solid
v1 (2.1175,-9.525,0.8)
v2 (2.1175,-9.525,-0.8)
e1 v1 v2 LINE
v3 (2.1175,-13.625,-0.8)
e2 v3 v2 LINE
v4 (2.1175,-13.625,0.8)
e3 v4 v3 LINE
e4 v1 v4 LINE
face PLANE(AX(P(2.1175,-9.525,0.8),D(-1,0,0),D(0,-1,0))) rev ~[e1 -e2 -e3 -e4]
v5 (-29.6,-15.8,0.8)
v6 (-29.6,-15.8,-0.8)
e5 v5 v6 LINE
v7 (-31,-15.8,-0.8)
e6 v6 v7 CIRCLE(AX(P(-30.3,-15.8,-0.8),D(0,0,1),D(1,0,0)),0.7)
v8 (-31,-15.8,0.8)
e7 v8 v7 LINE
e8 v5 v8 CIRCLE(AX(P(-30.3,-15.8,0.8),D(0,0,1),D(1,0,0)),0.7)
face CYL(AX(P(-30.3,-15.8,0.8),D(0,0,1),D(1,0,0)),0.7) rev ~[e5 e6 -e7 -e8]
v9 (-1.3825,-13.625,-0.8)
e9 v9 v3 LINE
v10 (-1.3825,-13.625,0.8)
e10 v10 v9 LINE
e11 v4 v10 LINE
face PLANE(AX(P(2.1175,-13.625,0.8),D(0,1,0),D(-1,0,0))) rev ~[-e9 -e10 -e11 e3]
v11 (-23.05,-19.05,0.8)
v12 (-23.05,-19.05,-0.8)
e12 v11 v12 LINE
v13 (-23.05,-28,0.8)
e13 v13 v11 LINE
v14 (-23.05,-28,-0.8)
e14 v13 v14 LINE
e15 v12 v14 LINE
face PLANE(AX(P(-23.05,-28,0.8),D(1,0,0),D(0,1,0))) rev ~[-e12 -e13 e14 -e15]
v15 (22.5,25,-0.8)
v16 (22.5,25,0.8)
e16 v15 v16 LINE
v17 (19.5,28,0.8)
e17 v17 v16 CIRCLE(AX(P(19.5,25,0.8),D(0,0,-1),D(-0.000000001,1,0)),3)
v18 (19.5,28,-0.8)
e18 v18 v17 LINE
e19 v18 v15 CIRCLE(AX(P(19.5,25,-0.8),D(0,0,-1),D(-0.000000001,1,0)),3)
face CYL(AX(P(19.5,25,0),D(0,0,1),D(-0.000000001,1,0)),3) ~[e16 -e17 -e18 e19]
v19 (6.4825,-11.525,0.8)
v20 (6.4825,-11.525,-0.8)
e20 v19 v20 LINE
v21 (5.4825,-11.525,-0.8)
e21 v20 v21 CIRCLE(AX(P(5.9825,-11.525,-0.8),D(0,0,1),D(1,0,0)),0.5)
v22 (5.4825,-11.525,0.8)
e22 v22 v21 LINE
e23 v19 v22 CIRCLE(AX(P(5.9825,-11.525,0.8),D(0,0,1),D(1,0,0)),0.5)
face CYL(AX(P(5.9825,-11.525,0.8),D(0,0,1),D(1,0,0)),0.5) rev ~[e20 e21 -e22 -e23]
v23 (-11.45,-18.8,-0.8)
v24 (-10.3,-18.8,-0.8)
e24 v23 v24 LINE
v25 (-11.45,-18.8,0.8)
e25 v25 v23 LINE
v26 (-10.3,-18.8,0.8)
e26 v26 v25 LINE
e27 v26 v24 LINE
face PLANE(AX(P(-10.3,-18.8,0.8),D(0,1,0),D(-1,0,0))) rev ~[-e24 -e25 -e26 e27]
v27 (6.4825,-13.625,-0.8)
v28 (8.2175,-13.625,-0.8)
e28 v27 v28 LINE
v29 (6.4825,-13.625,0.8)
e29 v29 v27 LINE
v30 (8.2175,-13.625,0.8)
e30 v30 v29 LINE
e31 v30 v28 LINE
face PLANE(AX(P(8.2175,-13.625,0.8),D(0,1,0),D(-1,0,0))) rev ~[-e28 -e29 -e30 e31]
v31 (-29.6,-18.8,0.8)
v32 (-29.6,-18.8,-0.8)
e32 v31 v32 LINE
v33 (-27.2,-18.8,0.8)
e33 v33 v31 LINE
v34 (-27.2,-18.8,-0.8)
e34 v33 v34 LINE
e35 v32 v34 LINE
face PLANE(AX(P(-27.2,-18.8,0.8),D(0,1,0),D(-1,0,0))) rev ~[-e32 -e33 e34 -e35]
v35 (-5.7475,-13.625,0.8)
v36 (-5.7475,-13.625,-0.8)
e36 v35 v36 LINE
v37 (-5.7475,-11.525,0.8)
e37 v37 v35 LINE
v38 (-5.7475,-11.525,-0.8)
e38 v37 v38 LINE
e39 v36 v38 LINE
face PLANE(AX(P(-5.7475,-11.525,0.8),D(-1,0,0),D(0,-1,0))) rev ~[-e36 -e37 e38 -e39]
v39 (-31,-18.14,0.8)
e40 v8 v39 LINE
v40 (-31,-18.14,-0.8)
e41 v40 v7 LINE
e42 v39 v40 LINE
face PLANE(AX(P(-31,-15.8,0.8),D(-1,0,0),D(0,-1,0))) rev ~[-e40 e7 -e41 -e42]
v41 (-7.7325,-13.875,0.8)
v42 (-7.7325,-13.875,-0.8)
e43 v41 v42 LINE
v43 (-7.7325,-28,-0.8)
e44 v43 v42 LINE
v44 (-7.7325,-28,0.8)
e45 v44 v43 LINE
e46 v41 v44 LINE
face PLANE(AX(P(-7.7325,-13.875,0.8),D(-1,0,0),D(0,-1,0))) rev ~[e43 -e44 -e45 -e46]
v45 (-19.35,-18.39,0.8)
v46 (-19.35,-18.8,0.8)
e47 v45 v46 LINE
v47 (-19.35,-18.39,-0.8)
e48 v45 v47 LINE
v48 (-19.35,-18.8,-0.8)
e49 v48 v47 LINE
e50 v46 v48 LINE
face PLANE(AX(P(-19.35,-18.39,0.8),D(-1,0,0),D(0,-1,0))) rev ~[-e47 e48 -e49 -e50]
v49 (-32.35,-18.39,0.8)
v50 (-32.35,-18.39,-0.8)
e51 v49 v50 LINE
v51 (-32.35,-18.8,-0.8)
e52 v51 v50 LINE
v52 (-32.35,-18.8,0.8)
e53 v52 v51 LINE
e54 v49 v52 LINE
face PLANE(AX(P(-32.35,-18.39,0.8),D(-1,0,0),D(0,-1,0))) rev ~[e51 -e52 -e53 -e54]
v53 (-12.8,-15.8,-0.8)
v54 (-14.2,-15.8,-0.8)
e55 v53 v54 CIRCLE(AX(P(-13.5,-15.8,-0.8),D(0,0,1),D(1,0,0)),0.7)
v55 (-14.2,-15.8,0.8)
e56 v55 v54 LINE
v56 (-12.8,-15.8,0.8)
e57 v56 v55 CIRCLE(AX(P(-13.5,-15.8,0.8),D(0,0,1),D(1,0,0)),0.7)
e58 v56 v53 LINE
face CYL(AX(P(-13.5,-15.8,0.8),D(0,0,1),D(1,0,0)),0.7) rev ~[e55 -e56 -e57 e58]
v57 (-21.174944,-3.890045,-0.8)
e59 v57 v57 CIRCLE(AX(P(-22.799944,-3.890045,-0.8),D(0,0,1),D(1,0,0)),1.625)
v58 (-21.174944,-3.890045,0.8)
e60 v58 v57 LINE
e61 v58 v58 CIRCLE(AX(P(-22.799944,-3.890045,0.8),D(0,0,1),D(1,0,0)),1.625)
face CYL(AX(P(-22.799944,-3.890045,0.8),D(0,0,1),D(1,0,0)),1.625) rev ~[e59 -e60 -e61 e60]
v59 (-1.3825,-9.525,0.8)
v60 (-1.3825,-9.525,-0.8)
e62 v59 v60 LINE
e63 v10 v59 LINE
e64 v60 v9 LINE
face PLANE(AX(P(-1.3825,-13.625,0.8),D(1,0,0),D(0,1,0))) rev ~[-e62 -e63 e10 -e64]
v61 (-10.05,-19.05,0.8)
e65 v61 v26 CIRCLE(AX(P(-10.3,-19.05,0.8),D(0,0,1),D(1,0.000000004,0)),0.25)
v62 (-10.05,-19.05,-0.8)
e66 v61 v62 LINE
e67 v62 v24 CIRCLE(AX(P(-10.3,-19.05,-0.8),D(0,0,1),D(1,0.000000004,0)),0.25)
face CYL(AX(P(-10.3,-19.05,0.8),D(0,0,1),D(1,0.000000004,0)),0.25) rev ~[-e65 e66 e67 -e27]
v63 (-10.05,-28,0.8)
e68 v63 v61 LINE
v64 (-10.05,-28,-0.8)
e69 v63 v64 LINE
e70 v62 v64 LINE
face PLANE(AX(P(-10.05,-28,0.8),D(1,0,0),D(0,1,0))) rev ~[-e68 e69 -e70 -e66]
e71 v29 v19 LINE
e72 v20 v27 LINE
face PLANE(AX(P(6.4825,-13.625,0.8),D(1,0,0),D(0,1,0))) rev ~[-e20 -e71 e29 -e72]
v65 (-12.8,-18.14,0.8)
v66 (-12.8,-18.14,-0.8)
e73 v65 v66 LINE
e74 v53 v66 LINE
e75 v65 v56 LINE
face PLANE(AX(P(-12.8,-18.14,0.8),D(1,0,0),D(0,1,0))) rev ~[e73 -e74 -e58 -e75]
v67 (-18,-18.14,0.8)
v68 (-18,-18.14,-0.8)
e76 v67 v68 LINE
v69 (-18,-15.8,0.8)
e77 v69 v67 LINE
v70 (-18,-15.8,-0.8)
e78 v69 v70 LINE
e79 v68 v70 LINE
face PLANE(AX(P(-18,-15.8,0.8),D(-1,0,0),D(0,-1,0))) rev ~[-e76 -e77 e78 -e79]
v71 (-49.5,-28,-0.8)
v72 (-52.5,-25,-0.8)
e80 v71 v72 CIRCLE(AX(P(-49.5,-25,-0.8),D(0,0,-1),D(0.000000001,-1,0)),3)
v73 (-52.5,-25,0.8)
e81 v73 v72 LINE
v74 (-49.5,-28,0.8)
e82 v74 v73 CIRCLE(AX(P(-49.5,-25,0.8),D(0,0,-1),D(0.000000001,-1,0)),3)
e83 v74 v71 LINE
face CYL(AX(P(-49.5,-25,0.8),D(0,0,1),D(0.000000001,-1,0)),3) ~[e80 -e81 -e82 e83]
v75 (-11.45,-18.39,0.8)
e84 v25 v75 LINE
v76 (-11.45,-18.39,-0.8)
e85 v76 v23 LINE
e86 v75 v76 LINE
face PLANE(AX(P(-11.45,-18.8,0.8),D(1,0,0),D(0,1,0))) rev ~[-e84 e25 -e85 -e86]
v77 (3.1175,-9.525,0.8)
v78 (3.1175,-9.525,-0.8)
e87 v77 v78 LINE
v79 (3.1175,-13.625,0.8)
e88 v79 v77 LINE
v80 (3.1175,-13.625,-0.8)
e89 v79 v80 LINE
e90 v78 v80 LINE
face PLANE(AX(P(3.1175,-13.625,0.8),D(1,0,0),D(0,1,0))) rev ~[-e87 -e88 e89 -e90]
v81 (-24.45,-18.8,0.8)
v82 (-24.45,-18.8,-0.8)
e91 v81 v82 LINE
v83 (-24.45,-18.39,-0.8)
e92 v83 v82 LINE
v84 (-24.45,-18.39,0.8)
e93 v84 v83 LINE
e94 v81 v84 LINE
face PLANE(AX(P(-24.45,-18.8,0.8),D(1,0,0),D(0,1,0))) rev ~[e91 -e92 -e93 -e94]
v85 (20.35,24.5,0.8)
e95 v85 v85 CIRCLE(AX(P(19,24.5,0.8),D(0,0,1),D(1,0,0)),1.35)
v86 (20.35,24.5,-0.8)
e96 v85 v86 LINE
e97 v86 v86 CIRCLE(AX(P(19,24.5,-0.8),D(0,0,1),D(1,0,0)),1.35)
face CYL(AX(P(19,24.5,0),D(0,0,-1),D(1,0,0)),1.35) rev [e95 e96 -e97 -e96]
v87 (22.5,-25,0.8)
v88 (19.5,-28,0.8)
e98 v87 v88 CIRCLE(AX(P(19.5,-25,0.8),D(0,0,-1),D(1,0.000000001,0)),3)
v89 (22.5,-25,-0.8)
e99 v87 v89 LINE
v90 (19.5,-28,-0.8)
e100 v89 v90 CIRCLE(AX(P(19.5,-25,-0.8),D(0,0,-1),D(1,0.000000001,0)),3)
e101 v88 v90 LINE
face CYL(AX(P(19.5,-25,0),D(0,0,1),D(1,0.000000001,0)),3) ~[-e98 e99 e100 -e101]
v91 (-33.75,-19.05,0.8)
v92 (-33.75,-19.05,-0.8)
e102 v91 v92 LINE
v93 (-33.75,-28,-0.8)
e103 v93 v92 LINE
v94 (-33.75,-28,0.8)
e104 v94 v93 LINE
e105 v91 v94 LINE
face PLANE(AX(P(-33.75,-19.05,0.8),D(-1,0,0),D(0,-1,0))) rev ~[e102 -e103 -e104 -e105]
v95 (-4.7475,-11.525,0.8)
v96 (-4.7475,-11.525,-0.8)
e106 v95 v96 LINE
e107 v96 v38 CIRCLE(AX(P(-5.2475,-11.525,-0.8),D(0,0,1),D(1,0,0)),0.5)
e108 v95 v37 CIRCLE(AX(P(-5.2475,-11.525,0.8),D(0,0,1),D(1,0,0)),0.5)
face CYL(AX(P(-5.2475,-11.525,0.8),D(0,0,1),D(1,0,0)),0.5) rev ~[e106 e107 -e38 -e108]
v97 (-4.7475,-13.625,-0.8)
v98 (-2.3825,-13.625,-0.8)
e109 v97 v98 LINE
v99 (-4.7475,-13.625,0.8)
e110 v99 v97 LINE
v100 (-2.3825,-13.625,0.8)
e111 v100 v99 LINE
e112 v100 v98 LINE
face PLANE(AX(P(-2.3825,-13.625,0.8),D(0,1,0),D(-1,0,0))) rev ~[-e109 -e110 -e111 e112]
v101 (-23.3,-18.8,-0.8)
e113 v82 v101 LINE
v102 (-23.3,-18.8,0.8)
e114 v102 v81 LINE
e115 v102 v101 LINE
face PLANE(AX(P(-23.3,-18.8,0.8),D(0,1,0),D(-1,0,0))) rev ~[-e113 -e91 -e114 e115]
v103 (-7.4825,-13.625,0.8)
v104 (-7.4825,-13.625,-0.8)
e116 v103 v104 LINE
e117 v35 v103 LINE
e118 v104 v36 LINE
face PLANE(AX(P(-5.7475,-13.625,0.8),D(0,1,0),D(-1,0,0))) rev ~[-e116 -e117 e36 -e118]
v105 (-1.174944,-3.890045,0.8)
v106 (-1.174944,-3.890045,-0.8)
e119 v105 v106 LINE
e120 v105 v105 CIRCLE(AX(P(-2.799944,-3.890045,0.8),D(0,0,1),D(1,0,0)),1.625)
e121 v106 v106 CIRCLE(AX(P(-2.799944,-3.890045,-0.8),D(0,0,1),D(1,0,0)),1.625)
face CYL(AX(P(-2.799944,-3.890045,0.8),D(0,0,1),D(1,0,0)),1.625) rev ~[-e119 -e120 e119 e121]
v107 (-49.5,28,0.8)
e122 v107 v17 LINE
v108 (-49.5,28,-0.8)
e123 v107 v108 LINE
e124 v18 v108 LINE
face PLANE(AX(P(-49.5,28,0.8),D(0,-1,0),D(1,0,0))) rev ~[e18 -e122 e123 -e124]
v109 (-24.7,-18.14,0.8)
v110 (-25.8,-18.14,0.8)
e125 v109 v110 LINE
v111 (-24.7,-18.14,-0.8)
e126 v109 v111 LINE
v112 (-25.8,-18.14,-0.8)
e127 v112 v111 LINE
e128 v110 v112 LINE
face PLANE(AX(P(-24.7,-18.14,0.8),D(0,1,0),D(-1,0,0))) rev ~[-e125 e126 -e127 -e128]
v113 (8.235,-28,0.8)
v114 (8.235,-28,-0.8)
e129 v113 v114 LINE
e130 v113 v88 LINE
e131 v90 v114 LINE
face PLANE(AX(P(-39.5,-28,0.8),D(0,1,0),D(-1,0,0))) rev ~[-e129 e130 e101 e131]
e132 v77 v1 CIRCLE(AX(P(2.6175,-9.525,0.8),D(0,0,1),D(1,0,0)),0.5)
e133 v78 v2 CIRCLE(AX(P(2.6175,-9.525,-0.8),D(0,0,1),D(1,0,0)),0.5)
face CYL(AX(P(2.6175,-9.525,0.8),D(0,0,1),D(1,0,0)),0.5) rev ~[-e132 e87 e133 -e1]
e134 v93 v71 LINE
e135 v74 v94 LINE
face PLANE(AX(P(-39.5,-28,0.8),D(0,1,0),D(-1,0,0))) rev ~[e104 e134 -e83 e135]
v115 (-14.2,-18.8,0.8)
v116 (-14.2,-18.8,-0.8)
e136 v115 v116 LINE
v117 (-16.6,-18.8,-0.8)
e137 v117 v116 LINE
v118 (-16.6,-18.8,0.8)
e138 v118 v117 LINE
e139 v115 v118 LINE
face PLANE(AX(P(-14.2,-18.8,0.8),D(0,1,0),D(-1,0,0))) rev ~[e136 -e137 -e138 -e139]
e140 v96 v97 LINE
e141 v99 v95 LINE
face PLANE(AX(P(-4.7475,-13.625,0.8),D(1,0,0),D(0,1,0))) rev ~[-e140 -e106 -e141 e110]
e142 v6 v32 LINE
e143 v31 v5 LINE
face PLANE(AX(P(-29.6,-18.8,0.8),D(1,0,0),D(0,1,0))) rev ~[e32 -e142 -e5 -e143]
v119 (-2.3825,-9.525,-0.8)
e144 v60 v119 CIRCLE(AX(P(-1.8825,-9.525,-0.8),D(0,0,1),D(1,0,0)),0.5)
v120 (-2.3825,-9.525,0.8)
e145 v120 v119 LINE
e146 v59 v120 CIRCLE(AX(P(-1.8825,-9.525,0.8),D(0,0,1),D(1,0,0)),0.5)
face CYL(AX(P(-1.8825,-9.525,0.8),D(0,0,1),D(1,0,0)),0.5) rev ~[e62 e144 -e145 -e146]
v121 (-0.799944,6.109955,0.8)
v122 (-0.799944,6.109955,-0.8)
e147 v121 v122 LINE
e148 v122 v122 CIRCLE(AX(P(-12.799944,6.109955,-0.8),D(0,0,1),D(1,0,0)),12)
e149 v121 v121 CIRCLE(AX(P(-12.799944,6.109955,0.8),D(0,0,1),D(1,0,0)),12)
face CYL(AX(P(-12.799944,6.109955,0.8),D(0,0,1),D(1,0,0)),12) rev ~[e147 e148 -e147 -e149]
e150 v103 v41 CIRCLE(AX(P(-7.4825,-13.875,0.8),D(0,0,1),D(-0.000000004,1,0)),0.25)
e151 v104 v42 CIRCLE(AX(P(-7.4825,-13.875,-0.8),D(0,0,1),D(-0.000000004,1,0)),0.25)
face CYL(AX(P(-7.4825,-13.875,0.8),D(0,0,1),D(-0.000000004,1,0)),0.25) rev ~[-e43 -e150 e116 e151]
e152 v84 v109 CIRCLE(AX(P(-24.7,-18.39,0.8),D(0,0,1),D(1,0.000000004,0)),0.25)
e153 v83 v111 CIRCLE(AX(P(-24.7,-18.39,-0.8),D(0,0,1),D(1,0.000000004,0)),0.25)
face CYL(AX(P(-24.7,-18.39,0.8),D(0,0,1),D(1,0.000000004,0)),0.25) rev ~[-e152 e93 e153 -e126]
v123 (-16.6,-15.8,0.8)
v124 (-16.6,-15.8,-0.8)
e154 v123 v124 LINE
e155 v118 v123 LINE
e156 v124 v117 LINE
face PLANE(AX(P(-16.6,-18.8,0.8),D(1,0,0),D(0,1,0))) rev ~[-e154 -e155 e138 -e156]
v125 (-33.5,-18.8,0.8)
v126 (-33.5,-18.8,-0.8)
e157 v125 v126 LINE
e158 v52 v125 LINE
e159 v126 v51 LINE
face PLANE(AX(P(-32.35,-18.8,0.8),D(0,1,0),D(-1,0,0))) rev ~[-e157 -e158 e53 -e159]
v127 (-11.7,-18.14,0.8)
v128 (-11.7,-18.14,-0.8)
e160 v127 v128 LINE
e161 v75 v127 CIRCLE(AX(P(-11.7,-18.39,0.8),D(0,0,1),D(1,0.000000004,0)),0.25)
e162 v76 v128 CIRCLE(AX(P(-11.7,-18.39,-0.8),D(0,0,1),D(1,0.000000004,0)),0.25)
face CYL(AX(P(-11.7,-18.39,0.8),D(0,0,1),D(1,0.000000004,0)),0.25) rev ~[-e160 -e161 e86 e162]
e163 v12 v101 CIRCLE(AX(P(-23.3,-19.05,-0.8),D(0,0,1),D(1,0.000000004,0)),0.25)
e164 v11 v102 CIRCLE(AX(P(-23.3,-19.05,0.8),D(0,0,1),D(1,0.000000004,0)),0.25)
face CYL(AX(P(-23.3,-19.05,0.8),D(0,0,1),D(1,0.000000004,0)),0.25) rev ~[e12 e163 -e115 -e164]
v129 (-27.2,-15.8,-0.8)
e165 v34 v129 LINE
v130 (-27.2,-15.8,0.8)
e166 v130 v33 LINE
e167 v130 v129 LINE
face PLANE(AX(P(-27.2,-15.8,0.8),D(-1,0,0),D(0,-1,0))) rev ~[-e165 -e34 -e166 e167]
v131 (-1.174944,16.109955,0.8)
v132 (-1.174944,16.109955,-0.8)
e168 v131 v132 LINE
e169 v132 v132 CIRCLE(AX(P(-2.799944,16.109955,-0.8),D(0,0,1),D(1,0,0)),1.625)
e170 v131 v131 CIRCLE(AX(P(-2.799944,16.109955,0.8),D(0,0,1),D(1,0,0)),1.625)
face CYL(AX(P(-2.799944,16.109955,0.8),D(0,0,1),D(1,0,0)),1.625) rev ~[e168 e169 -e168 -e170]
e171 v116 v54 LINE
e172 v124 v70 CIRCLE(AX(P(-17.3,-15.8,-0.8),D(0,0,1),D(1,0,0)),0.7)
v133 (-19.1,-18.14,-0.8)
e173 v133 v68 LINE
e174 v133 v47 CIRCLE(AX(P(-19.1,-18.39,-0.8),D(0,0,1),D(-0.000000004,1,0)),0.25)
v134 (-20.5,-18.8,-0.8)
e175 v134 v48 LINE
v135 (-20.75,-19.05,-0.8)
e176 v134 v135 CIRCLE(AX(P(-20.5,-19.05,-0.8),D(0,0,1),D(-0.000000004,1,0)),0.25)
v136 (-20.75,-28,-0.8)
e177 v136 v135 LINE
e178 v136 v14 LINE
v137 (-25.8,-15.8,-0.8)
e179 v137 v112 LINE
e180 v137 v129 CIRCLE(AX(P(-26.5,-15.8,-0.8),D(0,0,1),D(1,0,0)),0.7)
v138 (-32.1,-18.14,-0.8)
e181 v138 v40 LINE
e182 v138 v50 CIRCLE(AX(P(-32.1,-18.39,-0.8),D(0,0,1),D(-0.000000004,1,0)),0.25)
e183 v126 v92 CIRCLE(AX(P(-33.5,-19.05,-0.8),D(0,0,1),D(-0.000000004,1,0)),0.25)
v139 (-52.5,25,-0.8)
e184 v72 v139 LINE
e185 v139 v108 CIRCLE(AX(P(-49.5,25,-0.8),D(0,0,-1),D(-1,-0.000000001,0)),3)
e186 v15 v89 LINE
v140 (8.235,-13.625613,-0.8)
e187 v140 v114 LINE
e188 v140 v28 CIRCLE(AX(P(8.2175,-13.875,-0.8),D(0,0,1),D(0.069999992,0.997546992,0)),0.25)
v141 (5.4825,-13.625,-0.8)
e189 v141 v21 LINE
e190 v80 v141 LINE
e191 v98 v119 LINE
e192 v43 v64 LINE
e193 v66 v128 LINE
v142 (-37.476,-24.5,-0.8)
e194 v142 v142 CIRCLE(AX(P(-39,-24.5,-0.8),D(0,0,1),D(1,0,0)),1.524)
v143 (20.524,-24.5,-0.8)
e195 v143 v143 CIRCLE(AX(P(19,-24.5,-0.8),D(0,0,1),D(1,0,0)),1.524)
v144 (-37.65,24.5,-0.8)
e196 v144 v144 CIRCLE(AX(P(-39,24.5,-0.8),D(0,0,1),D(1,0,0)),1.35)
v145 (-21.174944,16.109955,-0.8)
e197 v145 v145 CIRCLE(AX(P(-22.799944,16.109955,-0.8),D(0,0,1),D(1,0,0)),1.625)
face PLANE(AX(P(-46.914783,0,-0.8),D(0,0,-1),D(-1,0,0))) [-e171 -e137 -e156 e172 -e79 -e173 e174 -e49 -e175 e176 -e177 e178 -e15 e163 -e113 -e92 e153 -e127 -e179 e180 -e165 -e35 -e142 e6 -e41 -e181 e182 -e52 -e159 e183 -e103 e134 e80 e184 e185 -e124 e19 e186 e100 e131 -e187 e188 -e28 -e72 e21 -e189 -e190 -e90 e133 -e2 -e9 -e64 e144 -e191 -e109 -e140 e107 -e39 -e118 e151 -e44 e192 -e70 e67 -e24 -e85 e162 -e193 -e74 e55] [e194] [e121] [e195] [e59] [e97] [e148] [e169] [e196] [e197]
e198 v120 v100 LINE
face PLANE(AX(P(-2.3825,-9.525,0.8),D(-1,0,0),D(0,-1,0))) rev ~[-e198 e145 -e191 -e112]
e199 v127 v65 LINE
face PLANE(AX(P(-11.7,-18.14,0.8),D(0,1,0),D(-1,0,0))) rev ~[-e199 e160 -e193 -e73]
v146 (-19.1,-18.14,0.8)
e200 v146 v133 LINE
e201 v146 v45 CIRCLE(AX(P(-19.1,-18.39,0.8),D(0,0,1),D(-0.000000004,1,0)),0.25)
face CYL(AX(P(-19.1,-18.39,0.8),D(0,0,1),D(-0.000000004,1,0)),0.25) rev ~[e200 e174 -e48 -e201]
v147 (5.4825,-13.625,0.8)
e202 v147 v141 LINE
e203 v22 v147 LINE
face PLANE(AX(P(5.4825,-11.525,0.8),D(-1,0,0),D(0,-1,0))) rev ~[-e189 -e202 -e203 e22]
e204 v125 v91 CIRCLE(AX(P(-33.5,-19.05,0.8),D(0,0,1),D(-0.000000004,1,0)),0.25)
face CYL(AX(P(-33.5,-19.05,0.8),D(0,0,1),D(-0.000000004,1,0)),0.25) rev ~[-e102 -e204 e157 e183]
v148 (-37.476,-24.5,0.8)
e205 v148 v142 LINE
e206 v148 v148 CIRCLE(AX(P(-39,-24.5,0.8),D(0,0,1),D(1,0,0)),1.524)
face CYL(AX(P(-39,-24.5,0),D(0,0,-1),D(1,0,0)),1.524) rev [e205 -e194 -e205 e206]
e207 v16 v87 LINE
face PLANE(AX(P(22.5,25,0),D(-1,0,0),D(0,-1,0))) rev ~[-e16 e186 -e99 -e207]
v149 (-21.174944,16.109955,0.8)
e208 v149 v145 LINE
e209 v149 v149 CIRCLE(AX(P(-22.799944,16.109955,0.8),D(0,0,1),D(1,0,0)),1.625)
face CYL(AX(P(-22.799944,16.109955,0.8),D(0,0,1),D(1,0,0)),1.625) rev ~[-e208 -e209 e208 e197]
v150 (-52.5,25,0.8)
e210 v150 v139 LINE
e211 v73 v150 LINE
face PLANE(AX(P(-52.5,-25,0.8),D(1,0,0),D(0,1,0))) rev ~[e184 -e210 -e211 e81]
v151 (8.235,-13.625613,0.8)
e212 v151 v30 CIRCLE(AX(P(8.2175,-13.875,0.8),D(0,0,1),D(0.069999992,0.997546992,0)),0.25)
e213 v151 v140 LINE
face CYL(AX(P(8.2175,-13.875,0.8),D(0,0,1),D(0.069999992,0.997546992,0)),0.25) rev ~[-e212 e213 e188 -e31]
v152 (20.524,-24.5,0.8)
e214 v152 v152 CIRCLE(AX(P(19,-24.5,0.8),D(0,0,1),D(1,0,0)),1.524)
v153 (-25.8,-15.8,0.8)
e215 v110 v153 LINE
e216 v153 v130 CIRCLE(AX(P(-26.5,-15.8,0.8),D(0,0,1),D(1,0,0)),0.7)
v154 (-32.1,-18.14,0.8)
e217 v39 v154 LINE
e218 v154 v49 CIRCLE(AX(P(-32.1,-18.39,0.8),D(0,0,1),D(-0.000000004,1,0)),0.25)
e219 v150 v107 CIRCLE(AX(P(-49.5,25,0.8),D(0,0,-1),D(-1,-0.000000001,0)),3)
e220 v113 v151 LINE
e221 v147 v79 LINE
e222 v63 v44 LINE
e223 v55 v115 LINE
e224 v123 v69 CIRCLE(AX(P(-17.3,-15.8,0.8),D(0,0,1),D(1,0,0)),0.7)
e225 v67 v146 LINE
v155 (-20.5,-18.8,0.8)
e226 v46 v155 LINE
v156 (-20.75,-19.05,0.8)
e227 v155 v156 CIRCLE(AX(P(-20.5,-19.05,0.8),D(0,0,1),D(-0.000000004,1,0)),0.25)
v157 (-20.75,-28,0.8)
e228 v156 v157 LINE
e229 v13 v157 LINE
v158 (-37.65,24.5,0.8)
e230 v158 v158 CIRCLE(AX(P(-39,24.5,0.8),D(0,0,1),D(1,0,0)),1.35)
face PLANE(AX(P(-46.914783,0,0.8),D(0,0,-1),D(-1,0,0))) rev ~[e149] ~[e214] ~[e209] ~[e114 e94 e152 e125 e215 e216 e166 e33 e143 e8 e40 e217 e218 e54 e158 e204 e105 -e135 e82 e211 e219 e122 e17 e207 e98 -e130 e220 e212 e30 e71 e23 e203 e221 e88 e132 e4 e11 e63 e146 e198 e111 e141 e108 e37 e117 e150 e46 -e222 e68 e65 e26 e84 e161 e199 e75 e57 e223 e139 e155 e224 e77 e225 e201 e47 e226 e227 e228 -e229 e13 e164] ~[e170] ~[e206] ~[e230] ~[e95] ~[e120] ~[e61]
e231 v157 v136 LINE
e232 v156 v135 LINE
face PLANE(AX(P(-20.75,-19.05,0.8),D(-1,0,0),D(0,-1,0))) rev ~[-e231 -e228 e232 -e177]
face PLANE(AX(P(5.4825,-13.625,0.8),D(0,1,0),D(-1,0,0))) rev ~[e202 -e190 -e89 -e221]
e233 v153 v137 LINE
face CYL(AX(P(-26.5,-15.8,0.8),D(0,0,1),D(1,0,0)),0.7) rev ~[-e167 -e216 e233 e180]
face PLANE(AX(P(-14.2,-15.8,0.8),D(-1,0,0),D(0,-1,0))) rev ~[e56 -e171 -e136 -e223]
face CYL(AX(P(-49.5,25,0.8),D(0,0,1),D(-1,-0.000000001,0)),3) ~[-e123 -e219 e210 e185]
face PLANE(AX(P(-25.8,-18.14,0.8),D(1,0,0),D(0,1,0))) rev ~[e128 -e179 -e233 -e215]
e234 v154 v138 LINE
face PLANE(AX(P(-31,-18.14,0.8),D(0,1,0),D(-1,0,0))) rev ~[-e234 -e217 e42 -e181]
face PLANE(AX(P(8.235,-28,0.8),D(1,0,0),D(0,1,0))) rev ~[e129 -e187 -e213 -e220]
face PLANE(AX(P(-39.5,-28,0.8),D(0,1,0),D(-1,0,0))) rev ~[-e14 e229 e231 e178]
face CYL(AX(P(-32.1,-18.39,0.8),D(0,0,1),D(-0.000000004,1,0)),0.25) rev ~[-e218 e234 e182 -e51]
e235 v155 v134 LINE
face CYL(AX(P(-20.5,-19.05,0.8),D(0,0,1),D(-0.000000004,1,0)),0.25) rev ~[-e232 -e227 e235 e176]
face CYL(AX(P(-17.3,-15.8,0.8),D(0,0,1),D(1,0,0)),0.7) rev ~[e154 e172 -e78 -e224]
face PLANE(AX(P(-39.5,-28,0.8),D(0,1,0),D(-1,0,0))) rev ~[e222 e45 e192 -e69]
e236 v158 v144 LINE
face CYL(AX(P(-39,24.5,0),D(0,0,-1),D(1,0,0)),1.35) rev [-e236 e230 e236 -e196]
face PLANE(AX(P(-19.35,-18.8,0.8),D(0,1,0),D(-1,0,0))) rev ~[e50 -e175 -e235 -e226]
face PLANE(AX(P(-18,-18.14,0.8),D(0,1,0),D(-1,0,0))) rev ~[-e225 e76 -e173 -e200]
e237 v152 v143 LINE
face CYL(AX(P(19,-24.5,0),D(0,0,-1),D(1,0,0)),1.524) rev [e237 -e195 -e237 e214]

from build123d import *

# Parameters (mm, degrees)
SKETCH1_R           = 1.35
SKETCH1_R_2         = 1.524
BOSS_EXTRUDE1_DEPTH = 0.8
SKETCH2_R           = 1.625
SKETCH2_R_2         = 12
CUT_EXTRUDE1_DEPTH  = 51.919642575
BOSS_EXTRUDE2_DEPTH = 1.6
CUT_EXTRUDE2_DEPTH  = 60.521508717


with BuildPart() as part:
    # Sketch1 → Boss-Extrude1 (new, symmetric)
    with BuildSketch(Plane.XY):
        with BuildLine():
            Line((22.5, 25), (22.5, -25))
            ThreePointArc((22.5, -25), (21.621320344, -27.121320344), (19.5, -28))
            Line((19.5, -28), (-39.5, -28))
            ThreePointArc((-39.5, -28), (-41.621320344, -27.121320344), (-42.5, -25))
            Line((-42.5, -25), (-42.5, 25))
            ThreePointArc((-42.5, 25), (-41.621320344, 27.121320344), (-39.5, 28))
            Line((-39.5, 28), (19.5, 28))
            ThreePointArc((19.5, 28), (21.621320344, 27.121320344), (22.5, 25))
        make_face()
        with Locations((-39, 24.5)):
            Circle(SKETCH1_R, mode=Mode.SUBTRACT)
        with Locations((-39, -24.5)):
            Circle(SKETCH1_R_2, mode=Mode.SUBTRACT)
        with Locations((19, -24.5)):
            Circle(SKETCH1_R_2, mode=Mode.SUBTRACT)
        with Locations((19, 24.5)):
            Circle(SKETCH1_R, mode=Mode.SUBTRACT)
    extrude(amount=BOSS_EXTRUDE1_DEPTH, both=True)

    # Sketch2 → Cut-Extrude1 (cut, through all)
    with BuildSketch(Plane.XY.offset(0.8)):
        with Locations((-2.799944405, 16.10995525)):
            Circle(SKETCH2_R)
        with Locations((-22.799944405, 16.10995525)):
            Circle(SKETCH2_R)
        with Locations((-22.799944405, -3.89004475)):
            Circle(SKETCH2_R)
        with Locations((-2.799944405, -3.89004475)):
            Circle(SKETCH2_R)
        with Locations((-12.799944405, 6.10995525)):
            Circle(SKETCH2_R_2)
    extrude(amount=-CUT_EXTRUDE1_DEPTH, mode=Mode.SUBTRACT)

    # Sketch4 → Boss-Extrude2 (add)
    with BuildSketch(Plane.XY.offset(0.8)):
        with BuildLine():
            Line((-49.5, 28), (-39.5, 28))
            ThreePointArc((-39.5, 28), (-41.621320344, 27.121320344), (-42.5, 25))
            Line((-42.5, 25), (-42.5, -25))
            ThreePointArc((-42.5, -25), (-41.621320344, -27.121320344), (-39.5, -28))
            Line((-39.5, -28), (-49.5, -28))
            ThreePointArc((-49.5, -28), (-51.621320344, -27.121320344), (-52.5, -25))
            Line((-52.5, -25), (-52.5, 25))
            ThreePointArc((-52.5, 25), (-51.621320344, 27.121320344), (-49.5, 28))
        make_face()
    extrude(amount=-BOSS_EXTRUDE2_DEPTH)

    # Sketch5 → Cut-Extrude2 (cut, through all)
    with BuildSketch(Plane.XY.offset(0.8)):
        with BuildLine():
            Line((-27.2, -18.8), (-29.6, -18.8))
            Line((-29.6, -18.8), (-29.6, -15.8))
            ThreePointArc((-29.6, -15.8), (-30.3, -15.1), (-31, -15.8))
            Line((-31, -15.8), (-31, -18.14))
            Line((-31, -18.14), (-32.1, -18.14))
            ThreePointArc((-32.1, -18.14), (-32.276776695, -18.213223305), (-32.35, -18.39))
            Line((-32.35, -18.39), (-32.35, -18.8))
            Line((-32.35, -18.8), (-33.5, -18.8))
            ThreePointArc((-33.5, -18.8), (-33.676776695, -18.873223305), (-33.75, -19.05))
            Line((-33.75, -19.05), (-33.75, -28))
            Line((-33.75, -28), (-23.05, -28))
            Line((-23.05, -28), (-23.05, -19.05))
            ThreePointArc((-23.05, -19.05), (-23.123223305, -18.873223305), (-23.3, -18.8))
            Line((-23.3, -18.8), (-24.45, -18.8))
            Line((-24.45, -18.8), (-24.45, -18.39))
            ThreePointArc((-24.45, -18.39), (-24.523223305, -18.213223305), (-24.7, -18.14))
            Line((-24.7, -18.14), (-25.8, -18.14))
            Line((-25.8, -18.14), (-25.8, -15.8))
            ThreePointArc((-25.8, -15.8), (-26.5, -15.1), (-27.2, -15.8))
            Line((-27.2, -15.8), (-27.2, -18.8))
        make_face()
        with BuildLine():
            Line((-14.2, -18.8), (-16.6, -18.8))
            Line((-16.6, -18.8), (-16.6, -15.8))
            ThreePointArc((-16.6, -15.8), (-17.3, -15.1), (-18, -15.8))
            Line((-18, -15.8), (-18, -18.14))
            Line((-18, -18.14), (-19.1, -18.14))
            ThreePointArc((-19.1, -18.14), (-19.276776695, -18.213223305), (-19.35, -18.39))
            Line((-19.35, -18.39), (-19.35, -18.8))
            Line((-19.35, -18.8), (-20.5, -18.8))
            ThreePointArc((-20.5, -18.8), (-20.676776695, -18.873223305), (-20.75, -19.05))
            Line((-20.75, -19.05), (-20.75, -28))
            Line((-20.75, -28), (-10.05, -28))
            Line((-10.05, -28), (-10.05, -19.05))
            ThreePointArc((-10.05, -19.05), (-10.123223305, -18.873223305), (-10.3, -18.8))
            Line((-10.3, -18.8), (-11.45, -18.8))
            Line((-11.45, -18.8), (-11.45, -18.39))
            ThreePointArc((-11.45, -18.39), (-11.523223305, -18.213223305), (-11.7, -18.14))
            Line((-11.7, -18.14), (-12.8, -18.14))
            Line((-12.8, -18.14), (-12.8, -15.8))
            ThreePointArc((-12.8, -15.8), (-13.5, -15.1), (-14.2, -15.8))
            Line((-14.2, -15.8), (-14.2, -18.8))
        make_face()
        with BuildLine():
            Line((-2.3825, -9.525), (-2.3825, -13.625))
            Line((-2.3825, -13.625), (-4.7475, -13.625))
            Line((-4.7475, -13.625), (-4.7475, -11.525))
            ThreePointArc((-4.7475, -11.525), (-5.2475, -11.025), (-5.7475, -11.525))
            Line((-5.7475, -11.525), (-5.7475, -13.625))
            Line((-5.7475, -13.625), (-7.4825, -13.625))
            ThreePointArc((-7.4825, -13.625), (-7.659276695, -13.698223305), (-7.7325, -13.875))
            Line((-7.7325, -13.875), (-7.7325, -28))
            Line((-7.7325, -28), (-7.426776695, -28))
            Line((-7.426776695, -28), (8.235, -28))
            Line((8.235, -28), (8.235, -13.625613252))
            ThreePointArc((8.235, -13.625613252), (8.226255371, -13.62515336), (8.2175, -13.625))
            Line((8.2175, -13.625), (6.4825, -13.625))
            Line((6.4825, -13.625), (6.4825, -11.525))
            ThreePointArc((6.4825, -11.525), (5.9825, -11.025), (5.4825, -11.525))
            Line((5.4825, -11.525), (5.4825, -13.625))
            Line((5.4825, -13.625), (3.1175, -13.625))
            Line((3.1175, -13.625), (3.1175, -9.525))
            ThreePointArc((3.1175, -9.525), (2.6175, -9.025), (2.1175, -9.525))
            Line((2.1175, -9.525), (2.1175, -13.625))
            Line((2.1175, -13.625), (-1.3825, -13.625))
            Line((-1.3825, -13.625), (-1.3825, -9.525))
            ThreePointArc((-1.3825, -9.525), (-1.8825, -9.025), (-2.3825, -9.525))
        make_face()
    extrude(amount=-CUT_EXTRUDE2_DEPTH, mode=Mode.SUBTRACT)


solid = part.part
